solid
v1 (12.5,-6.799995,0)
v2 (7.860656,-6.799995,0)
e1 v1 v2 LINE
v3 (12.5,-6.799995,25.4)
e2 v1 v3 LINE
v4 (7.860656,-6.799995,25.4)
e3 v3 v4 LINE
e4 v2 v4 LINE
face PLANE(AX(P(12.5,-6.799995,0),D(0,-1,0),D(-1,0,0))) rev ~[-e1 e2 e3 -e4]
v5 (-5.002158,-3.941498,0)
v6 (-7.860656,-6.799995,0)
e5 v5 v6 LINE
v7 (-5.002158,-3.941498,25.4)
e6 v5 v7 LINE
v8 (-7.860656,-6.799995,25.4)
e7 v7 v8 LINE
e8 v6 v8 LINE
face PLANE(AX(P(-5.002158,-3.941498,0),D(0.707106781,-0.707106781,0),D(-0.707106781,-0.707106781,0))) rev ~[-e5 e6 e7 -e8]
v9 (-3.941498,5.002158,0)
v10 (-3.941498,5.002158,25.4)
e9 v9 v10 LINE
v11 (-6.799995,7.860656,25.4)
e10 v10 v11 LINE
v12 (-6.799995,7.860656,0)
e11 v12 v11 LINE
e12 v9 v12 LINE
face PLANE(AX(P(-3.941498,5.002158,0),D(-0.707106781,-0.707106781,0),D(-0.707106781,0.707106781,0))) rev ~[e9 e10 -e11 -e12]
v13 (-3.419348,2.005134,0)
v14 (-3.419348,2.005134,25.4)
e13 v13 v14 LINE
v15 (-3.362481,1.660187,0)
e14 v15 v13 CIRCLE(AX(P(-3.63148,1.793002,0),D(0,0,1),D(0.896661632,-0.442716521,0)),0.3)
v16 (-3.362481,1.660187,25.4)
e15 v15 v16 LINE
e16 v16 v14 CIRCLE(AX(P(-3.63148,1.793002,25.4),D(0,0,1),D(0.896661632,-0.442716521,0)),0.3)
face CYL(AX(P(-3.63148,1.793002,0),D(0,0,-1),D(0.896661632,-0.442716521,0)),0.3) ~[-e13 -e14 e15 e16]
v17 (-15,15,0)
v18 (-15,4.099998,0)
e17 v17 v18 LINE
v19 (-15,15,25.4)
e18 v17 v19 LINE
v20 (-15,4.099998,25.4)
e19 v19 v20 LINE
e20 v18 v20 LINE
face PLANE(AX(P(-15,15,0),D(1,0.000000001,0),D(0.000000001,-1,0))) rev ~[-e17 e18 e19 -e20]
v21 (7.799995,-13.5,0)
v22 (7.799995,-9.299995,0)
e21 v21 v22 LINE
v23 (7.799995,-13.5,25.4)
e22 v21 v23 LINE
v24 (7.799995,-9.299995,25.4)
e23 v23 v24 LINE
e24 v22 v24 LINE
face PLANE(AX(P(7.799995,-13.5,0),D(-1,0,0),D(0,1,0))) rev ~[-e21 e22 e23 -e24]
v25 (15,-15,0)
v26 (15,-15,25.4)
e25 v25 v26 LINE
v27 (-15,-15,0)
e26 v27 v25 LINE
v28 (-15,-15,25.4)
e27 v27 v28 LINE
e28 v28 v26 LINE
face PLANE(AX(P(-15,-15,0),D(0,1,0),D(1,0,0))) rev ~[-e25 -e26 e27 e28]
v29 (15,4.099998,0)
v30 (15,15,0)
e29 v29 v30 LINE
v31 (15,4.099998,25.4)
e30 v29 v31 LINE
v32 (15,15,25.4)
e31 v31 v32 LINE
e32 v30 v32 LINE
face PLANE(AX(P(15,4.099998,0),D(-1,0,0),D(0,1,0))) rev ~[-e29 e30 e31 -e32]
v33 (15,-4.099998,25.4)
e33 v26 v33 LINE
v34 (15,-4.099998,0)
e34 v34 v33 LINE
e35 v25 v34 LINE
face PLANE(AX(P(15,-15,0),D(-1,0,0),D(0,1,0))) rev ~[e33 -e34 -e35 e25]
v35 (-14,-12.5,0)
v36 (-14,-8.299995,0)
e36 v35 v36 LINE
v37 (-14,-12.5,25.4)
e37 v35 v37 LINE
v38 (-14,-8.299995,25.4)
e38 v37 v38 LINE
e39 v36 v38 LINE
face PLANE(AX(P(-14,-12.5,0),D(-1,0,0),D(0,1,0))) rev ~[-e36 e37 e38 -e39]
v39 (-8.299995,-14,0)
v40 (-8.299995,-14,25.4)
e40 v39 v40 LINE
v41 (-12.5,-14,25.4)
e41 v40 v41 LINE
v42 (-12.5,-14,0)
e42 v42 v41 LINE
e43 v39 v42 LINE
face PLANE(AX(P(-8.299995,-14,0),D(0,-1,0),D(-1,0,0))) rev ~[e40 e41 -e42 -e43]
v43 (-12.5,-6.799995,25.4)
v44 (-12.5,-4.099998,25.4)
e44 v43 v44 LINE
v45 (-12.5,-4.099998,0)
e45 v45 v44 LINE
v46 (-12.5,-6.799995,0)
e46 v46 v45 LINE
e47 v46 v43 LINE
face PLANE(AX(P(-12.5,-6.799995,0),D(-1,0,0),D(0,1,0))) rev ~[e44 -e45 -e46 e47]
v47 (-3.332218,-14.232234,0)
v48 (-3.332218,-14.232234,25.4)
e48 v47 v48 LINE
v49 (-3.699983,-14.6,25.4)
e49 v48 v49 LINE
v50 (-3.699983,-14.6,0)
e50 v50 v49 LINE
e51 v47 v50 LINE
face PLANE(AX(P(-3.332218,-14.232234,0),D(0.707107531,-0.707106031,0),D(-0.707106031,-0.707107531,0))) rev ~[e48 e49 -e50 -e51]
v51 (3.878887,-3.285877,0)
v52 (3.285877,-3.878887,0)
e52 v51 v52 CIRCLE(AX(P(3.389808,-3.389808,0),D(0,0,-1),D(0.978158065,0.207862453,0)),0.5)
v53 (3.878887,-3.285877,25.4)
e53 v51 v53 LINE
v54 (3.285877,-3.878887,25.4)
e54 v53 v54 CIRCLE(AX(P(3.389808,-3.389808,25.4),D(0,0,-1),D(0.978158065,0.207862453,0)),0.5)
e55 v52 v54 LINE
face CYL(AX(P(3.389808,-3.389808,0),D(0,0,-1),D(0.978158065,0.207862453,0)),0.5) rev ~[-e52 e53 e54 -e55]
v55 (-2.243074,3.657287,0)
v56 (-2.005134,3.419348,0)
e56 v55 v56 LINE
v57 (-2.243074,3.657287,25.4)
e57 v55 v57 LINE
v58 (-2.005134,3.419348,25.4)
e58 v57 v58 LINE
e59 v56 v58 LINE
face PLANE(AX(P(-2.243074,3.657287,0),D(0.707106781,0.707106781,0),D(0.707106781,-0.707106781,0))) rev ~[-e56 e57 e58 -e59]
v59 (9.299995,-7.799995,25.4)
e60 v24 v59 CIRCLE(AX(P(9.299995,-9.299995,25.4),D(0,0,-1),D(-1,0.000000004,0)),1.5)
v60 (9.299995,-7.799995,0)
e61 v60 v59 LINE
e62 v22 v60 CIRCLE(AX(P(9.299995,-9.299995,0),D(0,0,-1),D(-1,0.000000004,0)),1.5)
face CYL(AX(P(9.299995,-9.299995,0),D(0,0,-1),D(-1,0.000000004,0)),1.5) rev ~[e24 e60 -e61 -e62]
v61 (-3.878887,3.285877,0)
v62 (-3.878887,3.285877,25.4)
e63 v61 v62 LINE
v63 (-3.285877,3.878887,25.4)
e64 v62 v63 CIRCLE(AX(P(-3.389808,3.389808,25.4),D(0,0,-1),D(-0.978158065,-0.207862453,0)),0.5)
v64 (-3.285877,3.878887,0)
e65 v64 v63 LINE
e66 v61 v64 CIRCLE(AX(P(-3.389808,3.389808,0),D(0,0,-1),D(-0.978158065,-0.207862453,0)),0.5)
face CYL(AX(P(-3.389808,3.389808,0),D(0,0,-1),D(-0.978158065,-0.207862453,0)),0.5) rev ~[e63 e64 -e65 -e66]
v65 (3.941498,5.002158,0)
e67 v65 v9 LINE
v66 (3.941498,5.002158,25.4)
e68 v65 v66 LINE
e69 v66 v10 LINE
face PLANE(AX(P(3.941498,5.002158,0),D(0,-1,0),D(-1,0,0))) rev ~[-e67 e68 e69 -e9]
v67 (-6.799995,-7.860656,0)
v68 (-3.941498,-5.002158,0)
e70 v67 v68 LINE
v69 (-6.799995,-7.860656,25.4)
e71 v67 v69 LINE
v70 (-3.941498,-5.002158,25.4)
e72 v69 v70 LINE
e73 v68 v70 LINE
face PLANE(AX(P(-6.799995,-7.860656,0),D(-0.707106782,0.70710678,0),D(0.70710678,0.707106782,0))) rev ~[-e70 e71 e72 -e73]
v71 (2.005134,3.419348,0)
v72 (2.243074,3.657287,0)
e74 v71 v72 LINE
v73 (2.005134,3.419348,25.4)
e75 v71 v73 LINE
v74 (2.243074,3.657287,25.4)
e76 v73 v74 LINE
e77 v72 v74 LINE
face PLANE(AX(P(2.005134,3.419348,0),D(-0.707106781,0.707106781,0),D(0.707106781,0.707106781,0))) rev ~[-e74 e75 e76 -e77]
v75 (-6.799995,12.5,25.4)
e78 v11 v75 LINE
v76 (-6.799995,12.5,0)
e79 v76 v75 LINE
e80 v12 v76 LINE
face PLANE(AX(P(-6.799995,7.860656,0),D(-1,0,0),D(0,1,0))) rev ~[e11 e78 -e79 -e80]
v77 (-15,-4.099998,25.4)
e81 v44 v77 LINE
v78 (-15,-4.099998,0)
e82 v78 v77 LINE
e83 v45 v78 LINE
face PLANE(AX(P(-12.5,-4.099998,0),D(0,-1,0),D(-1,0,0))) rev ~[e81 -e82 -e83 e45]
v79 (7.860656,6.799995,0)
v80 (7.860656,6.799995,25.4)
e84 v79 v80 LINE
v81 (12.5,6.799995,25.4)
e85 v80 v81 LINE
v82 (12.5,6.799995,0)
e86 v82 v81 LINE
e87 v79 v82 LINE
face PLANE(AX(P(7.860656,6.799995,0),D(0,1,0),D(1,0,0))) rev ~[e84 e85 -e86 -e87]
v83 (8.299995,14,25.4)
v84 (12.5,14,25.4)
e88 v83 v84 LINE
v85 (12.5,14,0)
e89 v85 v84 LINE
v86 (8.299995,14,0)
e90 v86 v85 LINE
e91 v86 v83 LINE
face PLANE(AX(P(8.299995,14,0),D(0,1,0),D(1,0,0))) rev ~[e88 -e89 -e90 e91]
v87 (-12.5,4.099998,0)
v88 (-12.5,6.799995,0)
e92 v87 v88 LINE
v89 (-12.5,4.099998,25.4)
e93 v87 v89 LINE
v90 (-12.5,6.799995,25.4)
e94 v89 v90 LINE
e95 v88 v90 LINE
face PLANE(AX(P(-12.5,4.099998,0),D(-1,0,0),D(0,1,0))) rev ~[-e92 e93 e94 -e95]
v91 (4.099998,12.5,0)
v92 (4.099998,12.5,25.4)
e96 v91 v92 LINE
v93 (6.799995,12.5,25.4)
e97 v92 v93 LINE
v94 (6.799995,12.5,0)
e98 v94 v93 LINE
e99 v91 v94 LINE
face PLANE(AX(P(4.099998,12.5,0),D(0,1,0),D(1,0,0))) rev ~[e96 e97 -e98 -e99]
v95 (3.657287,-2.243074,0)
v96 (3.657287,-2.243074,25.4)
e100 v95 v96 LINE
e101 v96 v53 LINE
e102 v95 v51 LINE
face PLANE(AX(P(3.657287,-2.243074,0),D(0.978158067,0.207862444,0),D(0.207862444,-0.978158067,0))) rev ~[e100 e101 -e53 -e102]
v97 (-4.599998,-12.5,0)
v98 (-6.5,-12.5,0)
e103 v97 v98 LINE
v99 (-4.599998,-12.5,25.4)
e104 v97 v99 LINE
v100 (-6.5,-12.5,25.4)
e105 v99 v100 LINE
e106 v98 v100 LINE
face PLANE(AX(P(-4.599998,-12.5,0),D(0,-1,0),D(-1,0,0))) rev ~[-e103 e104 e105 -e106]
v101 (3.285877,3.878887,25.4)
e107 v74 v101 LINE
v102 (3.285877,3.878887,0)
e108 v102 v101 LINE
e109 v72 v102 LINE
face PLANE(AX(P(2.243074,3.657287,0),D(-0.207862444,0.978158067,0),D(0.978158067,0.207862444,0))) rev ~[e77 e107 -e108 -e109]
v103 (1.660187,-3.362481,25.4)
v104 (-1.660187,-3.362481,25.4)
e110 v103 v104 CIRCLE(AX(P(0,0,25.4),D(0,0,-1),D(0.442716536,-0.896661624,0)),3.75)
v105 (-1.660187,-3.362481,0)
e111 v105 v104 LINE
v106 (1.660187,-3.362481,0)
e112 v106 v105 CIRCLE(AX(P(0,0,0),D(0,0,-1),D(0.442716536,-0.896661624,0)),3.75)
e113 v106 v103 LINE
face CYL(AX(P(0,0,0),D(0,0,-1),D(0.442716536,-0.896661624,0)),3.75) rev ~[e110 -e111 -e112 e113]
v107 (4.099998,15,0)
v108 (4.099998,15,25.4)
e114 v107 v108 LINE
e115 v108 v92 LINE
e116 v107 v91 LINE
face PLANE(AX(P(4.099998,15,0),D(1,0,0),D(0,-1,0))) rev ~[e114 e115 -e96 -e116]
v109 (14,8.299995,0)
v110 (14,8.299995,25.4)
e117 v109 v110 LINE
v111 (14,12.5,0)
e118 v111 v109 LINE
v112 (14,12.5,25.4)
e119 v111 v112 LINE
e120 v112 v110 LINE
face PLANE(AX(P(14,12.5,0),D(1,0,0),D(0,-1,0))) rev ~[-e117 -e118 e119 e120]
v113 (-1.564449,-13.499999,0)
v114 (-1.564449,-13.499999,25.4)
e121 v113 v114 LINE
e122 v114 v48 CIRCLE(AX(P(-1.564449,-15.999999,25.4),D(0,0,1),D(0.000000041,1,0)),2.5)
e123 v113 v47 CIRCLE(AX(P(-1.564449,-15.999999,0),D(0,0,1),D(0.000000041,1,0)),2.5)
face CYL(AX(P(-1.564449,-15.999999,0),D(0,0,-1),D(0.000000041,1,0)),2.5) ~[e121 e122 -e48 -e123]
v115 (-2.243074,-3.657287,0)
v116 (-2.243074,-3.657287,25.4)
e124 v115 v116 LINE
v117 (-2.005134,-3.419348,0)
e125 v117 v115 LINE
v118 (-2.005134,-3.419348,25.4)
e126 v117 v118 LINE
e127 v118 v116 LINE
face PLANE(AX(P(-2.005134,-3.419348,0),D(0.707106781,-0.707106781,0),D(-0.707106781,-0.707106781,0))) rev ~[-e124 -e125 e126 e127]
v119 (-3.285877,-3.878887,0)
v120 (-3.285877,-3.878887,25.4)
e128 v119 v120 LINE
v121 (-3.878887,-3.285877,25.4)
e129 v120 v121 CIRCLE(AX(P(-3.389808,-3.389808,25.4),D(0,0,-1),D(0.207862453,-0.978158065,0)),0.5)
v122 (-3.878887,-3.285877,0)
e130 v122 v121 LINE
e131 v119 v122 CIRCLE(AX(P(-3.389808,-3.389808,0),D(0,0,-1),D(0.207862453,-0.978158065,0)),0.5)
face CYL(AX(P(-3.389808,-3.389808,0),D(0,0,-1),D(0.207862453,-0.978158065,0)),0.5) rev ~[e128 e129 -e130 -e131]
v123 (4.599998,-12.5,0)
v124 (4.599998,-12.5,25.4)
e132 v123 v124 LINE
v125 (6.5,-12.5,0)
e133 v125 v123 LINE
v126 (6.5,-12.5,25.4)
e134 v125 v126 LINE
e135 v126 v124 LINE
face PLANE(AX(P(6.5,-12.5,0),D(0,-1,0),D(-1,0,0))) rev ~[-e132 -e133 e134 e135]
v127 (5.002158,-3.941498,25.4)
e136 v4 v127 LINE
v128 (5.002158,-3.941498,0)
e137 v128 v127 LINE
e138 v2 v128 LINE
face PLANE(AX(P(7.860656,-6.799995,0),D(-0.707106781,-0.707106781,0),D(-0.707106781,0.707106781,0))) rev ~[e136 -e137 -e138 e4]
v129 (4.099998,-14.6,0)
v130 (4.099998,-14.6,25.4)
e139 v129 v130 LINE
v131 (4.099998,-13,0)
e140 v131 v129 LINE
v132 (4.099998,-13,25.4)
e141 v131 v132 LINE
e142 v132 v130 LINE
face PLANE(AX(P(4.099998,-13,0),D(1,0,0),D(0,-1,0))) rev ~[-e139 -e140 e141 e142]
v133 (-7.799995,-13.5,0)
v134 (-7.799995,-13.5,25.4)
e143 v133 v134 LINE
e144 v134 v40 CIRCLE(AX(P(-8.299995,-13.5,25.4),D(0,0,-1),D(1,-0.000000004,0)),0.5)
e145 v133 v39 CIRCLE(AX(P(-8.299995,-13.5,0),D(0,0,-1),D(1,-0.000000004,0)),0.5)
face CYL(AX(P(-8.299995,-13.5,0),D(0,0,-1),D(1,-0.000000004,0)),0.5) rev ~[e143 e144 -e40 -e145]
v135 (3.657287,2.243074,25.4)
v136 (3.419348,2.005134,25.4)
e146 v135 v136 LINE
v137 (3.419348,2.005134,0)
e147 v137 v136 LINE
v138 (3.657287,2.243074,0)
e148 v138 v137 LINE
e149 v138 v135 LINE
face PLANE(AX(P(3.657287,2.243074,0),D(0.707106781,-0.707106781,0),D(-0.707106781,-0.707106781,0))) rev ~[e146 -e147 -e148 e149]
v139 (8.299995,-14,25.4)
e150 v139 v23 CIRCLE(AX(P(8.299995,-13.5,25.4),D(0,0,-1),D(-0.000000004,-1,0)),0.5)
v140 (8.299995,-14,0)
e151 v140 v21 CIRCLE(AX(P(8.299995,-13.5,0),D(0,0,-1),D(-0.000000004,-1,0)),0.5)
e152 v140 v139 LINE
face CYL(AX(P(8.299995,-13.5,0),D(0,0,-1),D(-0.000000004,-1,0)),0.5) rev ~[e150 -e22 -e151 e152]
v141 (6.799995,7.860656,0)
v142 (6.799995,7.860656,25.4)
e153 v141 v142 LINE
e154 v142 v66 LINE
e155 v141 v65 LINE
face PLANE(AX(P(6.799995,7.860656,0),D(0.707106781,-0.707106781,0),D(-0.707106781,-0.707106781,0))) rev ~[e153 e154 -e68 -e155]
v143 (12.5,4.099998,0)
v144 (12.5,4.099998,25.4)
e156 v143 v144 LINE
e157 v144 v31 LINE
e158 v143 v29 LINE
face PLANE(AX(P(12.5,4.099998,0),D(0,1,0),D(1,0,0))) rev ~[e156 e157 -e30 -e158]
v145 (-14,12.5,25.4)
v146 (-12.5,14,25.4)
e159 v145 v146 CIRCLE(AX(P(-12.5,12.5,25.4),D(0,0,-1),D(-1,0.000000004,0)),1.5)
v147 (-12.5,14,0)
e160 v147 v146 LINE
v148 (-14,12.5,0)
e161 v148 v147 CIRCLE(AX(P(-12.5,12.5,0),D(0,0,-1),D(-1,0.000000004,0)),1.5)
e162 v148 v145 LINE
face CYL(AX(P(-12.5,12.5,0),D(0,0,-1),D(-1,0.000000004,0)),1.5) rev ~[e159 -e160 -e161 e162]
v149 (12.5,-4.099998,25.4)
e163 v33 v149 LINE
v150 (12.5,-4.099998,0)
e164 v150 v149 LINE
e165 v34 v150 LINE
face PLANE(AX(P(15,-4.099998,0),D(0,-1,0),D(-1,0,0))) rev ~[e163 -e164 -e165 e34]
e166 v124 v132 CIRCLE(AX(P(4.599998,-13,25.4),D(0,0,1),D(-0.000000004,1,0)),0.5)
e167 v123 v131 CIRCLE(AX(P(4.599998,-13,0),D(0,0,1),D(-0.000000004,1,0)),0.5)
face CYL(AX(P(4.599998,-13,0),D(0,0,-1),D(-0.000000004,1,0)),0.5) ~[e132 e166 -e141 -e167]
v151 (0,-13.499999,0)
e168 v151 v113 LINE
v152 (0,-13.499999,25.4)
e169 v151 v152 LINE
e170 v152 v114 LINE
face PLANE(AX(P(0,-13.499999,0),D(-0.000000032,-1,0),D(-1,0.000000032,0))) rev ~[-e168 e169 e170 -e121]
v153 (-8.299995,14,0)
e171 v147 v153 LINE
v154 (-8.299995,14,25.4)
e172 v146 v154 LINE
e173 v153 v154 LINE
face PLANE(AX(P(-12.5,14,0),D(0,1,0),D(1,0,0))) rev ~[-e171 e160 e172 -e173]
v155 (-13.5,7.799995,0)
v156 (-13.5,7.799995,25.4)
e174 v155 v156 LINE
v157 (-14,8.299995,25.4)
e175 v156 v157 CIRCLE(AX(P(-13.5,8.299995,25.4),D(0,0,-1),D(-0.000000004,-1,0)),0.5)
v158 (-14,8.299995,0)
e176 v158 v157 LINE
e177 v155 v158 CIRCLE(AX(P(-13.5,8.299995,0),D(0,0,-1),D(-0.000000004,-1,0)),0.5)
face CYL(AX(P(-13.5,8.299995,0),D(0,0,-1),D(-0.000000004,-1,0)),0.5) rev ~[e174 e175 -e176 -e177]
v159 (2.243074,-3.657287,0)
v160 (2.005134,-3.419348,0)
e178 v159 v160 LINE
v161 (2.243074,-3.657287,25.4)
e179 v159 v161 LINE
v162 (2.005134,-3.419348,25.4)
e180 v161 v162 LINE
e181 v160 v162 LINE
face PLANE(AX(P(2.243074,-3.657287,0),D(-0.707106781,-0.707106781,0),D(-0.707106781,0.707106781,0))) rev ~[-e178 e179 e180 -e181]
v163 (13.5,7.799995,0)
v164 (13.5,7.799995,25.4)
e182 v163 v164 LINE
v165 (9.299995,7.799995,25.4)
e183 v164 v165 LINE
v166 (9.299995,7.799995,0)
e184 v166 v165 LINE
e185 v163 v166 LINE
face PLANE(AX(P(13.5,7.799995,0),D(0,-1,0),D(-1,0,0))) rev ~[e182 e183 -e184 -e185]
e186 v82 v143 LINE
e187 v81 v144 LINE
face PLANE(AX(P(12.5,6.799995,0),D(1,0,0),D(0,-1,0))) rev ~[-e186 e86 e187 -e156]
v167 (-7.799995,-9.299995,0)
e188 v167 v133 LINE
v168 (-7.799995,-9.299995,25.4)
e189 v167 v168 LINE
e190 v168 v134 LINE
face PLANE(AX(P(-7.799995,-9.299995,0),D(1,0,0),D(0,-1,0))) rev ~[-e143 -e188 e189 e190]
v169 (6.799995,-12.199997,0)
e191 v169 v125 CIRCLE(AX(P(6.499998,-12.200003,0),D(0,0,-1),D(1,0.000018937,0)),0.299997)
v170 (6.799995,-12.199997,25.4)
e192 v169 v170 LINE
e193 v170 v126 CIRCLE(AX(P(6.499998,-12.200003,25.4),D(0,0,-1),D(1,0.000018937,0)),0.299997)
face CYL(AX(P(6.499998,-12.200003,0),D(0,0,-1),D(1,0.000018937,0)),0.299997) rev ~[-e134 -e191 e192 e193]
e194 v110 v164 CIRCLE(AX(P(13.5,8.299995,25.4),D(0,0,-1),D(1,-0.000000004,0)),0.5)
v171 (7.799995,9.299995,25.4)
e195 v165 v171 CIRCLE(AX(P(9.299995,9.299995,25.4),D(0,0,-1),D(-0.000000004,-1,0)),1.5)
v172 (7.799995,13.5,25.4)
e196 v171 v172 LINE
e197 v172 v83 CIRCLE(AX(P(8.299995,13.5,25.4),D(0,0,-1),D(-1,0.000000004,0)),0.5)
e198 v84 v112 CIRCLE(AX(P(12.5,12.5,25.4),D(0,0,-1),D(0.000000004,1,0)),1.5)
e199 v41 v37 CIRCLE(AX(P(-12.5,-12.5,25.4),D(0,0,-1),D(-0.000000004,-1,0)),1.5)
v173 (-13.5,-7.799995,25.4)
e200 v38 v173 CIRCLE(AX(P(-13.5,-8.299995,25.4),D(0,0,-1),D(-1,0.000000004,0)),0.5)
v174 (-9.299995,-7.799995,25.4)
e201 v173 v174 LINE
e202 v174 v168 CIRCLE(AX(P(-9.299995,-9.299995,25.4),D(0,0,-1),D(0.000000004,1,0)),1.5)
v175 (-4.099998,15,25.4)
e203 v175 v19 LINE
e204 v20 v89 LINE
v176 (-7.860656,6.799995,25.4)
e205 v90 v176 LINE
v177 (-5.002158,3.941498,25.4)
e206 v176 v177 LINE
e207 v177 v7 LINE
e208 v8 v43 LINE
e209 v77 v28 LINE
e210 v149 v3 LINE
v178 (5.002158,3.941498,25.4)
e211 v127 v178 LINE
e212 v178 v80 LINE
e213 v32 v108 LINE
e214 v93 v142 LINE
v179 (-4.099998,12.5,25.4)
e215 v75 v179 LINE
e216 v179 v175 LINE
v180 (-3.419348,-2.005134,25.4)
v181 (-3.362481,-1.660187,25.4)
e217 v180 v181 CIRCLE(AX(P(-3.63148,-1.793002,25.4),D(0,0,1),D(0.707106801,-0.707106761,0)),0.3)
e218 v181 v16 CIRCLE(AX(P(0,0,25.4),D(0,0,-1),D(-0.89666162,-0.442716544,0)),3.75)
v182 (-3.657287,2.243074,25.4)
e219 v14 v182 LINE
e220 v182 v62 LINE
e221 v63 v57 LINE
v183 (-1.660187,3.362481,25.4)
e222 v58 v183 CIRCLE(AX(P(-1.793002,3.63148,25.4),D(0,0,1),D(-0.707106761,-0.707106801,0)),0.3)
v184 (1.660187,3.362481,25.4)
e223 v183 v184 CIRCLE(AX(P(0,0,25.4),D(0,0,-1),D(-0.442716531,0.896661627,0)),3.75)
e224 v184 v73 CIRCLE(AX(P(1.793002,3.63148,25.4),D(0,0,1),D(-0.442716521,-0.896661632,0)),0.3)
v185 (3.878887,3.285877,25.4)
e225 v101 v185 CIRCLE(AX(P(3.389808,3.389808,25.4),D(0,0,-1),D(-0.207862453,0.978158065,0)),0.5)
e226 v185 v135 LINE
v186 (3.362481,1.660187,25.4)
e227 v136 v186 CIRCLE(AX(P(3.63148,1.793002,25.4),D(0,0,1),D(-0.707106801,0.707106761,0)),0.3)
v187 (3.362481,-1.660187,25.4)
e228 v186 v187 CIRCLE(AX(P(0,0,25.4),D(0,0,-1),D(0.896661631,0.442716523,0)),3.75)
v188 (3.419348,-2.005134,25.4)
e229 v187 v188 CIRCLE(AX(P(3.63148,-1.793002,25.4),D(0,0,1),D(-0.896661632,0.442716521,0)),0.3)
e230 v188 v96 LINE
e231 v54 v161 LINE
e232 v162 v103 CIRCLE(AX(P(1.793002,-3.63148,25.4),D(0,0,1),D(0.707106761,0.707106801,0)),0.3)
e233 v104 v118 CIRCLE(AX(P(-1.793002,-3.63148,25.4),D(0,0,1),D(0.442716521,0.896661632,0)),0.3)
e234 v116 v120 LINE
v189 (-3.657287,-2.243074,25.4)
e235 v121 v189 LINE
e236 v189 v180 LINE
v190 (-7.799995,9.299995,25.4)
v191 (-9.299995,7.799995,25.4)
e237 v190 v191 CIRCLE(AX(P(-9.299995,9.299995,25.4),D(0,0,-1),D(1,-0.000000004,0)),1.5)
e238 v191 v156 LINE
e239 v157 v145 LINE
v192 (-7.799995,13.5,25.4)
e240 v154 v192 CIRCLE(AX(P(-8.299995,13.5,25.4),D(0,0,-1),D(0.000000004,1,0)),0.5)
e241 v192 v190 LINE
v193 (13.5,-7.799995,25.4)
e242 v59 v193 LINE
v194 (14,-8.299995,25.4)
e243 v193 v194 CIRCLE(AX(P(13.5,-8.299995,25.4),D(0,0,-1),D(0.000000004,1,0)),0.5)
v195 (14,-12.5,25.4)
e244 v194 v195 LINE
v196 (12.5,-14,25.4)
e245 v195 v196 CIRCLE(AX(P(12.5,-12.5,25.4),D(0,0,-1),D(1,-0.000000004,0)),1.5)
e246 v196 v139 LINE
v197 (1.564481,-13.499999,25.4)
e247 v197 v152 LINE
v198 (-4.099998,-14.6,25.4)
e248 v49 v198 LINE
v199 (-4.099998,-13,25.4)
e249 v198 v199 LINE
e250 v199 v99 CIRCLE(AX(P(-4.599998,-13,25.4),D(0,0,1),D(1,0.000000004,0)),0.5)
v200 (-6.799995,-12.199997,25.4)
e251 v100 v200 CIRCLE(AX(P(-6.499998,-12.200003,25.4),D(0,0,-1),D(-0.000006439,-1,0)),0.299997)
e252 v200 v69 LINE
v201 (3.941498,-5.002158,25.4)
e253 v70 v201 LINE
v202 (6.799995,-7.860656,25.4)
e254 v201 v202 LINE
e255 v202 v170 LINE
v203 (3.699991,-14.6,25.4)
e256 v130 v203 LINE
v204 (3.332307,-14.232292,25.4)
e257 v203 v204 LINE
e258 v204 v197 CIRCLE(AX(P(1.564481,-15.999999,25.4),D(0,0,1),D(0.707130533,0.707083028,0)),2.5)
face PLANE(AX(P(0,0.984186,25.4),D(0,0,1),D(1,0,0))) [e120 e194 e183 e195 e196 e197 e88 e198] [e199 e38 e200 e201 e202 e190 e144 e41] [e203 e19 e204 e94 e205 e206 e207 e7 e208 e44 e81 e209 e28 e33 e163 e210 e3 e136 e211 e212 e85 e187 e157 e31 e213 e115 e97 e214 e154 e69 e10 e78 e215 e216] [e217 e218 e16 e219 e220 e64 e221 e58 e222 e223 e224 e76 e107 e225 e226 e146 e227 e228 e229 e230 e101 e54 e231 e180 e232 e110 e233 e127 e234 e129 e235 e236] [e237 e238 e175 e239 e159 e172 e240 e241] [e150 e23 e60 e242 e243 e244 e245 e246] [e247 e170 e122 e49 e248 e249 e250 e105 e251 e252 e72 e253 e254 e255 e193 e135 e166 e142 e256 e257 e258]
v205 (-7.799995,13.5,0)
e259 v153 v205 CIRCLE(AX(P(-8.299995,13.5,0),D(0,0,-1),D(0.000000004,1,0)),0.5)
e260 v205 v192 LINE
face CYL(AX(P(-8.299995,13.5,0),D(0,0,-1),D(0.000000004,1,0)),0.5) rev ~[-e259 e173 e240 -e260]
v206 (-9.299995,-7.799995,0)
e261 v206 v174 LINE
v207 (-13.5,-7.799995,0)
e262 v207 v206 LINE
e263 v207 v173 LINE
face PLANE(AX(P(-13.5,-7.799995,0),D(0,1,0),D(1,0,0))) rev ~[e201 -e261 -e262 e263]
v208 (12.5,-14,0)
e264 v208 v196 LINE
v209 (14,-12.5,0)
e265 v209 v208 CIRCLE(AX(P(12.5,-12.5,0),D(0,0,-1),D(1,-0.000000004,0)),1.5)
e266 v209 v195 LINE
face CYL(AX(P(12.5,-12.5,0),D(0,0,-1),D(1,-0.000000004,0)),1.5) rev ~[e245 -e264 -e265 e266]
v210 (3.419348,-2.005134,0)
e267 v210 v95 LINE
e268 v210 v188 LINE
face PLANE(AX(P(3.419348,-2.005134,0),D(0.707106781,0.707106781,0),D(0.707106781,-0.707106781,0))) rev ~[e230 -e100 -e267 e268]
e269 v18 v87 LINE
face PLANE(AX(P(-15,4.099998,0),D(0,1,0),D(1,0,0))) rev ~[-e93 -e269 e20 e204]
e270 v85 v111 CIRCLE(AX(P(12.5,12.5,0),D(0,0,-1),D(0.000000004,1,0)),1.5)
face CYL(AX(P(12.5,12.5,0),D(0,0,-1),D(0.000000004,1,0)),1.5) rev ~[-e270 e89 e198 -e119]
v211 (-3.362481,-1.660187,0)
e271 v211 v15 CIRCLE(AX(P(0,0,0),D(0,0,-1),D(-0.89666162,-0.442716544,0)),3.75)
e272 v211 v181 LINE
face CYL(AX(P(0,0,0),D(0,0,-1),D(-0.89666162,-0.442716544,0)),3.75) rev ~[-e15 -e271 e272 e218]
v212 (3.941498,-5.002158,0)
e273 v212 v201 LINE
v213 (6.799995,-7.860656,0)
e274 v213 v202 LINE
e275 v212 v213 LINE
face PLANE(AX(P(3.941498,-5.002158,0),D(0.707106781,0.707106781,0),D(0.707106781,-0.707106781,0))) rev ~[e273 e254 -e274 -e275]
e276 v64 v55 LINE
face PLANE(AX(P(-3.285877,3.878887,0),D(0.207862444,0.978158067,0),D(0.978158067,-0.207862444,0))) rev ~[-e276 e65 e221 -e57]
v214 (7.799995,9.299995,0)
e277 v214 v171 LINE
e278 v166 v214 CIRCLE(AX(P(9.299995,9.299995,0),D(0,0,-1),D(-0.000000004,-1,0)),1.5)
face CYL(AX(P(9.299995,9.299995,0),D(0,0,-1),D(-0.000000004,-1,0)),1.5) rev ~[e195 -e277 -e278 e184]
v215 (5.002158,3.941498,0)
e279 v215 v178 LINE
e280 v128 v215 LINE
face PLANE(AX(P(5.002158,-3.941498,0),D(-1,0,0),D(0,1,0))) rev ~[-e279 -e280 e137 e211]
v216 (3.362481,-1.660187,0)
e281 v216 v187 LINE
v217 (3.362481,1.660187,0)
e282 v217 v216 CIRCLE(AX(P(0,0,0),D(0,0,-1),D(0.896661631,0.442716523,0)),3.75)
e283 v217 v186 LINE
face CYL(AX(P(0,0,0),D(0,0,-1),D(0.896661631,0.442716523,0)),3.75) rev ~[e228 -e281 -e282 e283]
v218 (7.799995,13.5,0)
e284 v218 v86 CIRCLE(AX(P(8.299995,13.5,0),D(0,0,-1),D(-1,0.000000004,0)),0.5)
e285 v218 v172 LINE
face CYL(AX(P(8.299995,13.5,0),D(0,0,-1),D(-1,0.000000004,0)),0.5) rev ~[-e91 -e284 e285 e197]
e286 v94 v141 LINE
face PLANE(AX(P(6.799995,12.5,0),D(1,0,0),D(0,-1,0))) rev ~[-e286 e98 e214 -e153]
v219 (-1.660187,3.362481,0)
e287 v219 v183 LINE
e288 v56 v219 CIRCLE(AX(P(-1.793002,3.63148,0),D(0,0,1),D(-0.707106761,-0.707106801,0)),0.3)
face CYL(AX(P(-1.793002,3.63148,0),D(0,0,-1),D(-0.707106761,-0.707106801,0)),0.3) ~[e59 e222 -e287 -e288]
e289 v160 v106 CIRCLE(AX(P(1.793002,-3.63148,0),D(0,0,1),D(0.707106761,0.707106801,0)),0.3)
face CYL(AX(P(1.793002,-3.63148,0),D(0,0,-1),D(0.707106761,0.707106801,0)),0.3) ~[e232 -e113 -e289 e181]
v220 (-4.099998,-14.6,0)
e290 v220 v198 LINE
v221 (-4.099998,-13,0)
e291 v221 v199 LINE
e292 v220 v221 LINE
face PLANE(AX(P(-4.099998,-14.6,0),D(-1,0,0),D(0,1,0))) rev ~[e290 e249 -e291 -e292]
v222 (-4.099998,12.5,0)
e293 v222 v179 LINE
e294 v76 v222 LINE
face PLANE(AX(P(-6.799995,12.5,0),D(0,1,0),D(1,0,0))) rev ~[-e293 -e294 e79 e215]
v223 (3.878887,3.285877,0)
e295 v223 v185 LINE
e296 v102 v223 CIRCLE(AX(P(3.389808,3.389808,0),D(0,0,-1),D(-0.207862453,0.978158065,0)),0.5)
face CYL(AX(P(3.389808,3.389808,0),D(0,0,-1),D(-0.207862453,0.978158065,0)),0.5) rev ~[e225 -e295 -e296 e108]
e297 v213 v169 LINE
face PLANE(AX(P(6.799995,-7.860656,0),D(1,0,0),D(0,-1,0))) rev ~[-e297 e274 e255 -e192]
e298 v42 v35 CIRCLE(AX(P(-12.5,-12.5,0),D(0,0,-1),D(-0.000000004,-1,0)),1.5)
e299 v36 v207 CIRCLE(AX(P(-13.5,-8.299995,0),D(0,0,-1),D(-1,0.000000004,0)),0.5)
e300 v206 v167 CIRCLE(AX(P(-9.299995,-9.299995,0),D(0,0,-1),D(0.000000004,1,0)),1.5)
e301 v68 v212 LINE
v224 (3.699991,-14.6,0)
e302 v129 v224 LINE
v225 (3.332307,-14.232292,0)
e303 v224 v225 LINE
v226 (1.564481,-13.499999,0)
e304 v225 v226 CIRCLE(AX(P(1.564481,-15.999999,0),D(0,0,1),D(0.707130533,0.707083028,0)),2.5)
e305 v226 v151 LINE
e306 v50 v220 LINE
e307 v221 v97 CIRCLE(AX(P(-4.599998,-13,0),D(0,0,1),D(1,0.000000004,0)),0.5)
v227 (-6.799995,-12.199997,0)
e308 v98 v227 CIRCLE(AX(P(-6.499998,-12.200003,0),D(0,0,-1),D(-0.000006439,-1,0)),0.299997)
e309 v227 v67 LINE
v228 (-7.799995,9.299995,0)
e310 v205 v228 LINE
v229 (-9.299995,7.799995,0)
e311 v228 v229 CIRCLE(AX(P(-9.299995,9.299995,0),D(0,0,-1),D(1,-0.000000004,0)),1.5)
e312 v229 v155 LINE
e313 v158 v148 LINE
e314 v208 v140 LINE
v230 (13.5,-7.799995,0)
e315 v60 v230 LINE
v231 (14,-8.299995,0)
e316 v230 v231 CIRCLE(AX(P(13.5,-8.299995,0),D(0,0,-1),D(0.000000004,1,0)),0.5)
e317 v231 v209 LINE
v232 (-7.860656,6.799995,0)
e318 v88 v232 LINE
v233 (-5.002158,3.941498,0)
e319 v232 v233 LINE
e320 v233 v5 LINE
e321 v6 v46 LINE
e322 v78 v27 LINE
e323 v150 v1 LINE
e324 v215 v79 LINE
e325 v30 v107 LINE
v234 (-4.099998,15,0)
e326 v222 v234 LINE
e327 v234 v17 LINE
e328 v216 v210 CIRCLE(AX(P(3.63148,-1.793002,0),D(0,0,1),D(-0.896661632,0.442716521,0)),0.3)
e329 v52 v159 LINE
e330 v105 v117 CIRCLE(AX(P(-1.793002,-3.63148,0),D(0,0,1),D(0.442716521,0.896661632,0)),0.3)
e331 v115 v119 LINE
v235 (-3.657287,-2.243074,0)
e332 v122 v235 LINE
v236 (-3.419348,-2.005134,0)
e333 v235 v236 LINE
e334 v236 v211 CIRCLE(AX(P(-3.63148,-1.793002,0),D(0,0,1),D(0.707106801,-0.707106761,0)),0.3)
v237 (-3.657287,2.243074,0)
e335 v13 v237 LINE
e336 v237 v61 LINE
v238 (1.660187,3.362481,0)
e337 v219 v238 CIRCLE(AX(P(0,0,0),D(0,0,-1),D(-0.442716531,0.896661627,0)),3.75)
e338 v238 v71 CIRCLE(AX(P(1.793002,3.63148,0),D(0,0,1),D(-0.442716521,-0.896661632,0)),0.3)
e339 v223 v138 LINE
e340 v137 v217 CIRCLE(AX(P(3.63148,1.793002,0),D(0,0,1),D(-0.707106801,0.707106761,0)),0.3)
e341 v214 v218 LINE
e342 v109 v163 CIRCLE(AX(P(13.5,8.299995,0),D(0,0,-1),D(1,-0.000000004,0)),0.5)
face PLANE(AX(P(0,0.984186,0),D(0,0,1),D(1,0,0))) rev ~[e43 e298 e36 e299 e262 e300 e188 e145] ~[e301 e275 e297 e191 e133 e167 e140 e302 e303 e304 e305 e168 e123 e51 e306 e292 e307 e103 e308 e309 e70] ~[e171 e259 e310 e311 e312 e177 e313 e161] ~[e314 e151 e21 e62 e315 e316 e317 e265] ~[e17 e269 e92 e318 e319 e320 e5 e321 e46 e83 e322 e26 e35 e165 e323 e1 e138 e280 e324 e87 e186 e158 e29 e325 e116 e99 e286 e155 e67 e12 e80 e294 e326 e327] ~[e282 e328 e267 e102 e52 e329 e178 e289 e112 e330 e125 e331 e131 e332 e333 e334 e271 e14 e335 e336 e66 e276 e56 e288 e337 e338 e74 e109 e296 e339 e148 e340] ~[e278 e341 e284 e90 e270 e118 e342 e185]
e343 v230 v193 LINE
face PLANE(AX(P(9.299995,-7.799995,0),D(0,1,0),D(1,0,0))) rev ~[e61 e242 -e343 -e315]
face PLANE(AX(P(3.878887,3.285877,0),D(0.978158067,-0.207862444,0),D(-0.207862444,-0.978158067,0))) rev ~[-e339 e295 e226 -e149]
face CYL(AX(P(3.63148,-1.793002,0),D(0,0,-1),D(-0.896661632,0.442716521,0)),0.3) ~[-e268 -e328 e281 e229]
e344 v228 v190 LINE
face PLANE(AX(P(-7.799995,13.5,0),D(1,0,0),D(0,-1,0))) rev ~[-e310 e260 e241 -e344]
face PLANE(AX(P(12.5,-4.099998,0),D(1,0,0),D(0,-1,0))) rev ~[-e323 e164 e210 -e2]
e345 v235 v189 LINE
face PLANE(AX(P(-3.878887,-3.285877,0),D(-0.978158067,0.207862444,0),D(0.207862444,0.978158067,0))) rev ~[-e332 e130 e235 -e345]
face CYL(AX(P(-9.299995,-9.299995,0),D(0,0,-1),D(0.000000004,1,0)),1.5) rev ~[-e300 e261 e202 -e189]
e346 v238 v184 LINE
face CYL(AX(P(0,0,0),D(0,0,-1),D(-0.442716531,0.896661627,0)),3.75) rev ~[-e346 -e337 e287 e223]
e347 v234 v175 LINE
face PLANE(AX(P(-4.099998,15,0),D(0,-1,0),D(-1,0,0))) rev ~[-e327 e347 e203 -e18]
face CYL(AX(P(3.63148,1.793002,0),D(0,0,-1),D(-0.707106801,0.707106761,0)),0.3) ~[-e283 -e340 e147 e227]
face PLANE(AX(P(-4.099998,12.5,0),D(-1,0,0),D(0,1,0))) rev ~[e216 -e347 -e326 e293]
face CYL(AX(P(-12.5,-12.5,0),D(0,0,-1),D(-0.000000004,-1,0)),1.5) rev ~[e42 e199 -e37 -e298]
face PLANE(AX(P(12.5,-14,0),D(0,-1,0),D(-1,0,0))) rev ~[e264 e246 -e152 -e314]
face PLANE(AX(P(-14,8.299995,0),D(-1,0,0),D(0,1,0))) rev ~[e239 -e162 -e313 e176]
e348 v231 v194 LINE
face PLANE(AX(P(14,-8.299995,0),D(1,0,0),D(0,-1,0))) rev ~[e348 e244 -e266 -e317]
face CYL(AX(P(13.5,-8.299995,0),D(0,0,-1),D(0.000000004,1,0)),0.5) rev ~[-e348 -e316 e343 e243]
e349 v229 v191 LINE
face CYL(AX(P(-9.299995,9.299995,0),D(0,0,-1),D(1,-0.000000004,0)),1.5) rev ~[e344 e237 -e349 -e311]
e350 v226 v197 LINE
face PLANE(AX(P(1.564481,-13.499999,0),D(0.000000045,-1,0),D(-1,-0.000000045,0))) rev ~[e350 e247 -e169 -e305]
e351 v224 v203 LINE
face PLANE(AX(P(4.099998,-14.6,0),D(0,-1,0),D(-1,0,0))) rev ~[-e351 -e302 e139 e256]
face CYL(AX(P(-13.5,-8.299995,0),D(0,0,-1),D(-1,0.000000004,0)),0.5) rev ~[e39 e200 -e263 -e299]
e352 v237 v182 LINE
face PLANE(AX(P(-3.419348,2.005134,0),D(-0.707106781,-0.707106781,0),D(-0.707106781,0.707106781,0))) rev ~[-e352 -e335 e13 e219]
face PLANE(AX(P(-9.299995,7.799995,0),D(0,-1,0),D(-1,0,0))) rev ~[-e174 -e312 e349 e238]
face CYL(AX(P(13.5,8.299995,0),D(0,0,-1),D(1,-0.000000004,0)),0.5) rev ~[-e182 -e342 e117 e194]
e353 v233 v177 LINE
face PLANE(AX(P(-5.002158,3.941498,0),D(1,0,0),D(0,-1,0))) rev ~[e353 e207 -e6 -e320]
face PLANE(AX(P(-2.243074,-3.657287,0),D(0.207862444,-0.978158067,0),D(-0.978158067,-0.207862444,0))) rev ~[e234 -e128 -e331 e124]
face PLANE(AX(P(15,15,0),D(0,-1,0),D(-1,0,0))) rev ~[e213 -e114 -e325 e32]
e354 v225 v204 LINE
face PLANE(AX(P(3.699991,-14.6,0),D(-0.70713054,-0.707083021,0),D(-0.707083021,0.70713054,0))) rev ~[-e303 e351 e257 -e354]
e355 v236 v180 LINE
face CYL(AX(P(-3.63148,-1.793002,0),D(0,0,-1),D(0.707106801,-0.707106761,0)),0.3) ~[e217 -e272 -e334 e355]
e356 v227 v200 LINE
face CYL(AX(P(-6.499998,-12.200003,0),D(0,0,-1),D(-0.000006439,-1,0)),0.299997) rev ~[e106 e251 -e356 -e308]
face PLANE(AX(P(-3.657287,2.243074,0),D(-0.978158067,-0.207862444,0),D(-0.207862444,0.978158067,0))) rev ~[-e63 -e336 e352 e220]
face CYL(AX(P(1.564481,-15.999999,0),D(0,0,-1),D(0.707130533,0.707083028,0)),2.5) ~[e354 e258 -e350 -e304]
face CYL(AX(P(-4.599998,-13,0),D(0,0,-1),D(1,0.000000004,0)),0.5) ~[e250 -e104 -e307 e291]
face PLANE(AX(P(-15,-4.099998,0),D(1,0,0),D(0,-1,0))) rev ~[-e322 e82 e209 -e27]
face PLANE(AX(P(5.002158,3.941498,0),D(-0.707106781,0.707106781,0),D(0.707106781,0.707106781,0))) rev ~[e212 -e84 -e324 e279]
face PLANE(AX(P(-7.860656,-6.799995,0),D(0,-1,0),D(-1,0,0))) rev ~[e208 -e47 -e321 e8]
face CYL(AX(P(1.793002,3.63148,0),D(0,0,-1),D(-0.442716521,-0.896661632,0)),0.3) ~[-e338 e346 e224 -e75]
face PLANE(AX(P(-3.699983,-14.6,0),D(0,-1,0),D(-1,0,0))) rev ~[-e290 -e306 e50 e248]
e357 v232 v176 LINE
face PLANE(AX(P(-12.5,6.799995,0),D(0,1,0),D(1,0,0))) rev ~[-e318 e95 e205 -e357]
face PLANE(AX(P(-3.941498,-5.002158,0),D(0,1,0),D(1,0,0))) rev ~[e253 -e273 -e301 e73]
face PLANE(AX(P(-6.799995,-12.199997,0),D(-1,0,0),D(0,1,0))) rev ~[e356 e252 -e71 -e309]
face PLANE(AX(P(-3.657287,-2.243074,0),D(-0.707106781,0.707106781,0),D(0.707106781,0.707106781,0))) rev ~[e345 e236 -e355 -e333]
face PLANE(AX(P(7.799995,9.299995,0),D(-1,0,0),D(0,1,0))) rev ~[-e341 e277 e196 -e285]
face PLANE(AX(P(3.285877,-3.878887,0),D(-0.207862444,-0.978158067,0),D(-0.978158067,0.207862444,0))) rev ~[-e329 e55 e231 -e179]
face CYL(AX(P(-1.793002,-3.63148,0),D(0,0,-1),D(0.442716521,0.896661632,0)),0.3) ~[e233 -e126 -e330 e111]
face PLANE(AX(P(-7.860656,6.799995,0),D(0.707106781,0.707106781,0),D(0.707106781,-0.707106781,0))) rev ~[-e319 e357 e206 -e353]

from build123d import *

# Parameters (mm, degrees)
EXTRUSION3_DEPTH = 25.4


with BuildPart() as part:
    # Sketch1 → Extrusion3 (new body)
    with BuildSketch(Plane.XY):
        Polygon((-15.000000011, 14.999999975), (-14.999999998, 4.099998455), (-12.499999998, 4.099998455), (-12.499999998, 6.799995405), (-7.860655598, 6.799995405), (-5.002158168, 3.941497975), (-5.002158168, -3.941498015), (-7.860655598, -6.799995445), (-12.499999998, -6.799995445), (-12.499999998, -4.099998495), (-14.999999998, -4.099998495), (-14.999999998, -15.000000015), (14.999999982, -15.000000015), (14.999999982, -4.099998495), (12.499999982, -4.099998495), (12.499999982, -6.799995445), (7.860655582, -6.799995445), (5.002158152, -3.941498015), (5.002158152, 3.941497975), (7.860655582, 6.799995405), (12.499999982, 6.799995405), (12.499999982, 4.099998455), (14.999999982, 4.099998455), (14.999999982, 14.999999975), (4.099998462, 14.999999975), (4.099998462, 12.499999975), (6.799995412, 12.499999975), (6.799995412, 7.860655575), (3.941497982, 5.002158145), (-3.941498008, 5.002158145), (-6.799995438, 7.860655575), (-6.799995438, 12.499999975), (-4.099998488, 12.499999975), (-4.099998488, 14.999999975), align=None)
        with BuildLine():
            Line((13.499999982, 7.799995395), (9.299995412, 7.799995395))
            ThreePointArc((9.299995412, 7.799995395), (8.239335242, 8.239335225), (7.799995412, 9.299995395))
            Line((7.799995412, 9.299995395), (7.799995412, 13.499999965))
            ThreePointArc((7.799995412, 13.499999965), (7.946442022, 13.853553355), (8.299995412, 13.999999965))
            Line((8.299995412, 13.999999965), (12.499999982, 13.999999965))
            ThreePointArc((12.499999982, 13.999999965), (13.560660152, 13.560660135), (13.999999982, 12.499999965))
            Line((13.999999982, 12.499999965), (13.999999982, 8.299995395))
            ThreePointArc((13.999999982, 8.299995395), (13.853553372, 7.946442005), (13.499999982, 7.799995395))
        make_face(mode=Mode.SUBTRACT)
        with BuildLine():
            Line((-7.799995428, 13.499999965), (-7.799995428, 9.299995395))
            ThreePointArc((-7.799995428, 9.299995395), (-8.239335258, 8.239335225), (-9.299995428, 7.799995395))
            Line((-9.299995428, 7.799995395), (-13.499999998, 7.799995395))
            ThreePointArc((-13.499999998, 7.799995395), (-13.853553388, 7.946442005), (-13.999999998, 8.299995395))
            Line((-13.999999998, 8.299995395), (-13.999999998, 12.499999965))
            ThreePointArc((-13.999999998, 12.499999965), (-13.560660168, 13.560660135), (-12.499999998, 13.999999965))
            Line((-12.499999998, 13.999999965), (-8.299995428, 13.999999965))
            ThreePointArc((-8.299995428, 13.999999965), (-7.946442038, 13.853553355), (-7.799995428, 13.499999965))
        make_face(mode=Mode.SUBTRACT)
        with BuildLine():
            Line((7.799995412, -13.500000015), (7.799995412, -9.299995445))
            ThreePointArc((7.799995412, -9.299995445), (8.239335242, -8.239335275), (9.299995412, -7.799995445))
            Line((9.299995412, -7.799995445), (13.499999982, -7.799995445))
            ThreePointArc((13.499999982, -7.799995445), (13.853553372, -7.946442055), (13.999999982, -8.299995445))
            Line((13.999999982, -8.299995445), (13.999999982, -12.500000015))
            ThreePointArc((13.999999982, -12.500000015), (13.560660152, -13.560660185), (12.499999982, -14.000000015))
            Line((12.499999982, -14.000000015), (8.299995412, -14.000000015))
            ThreePointArc((8.299995412, -14.000000015), (7.946442022, -13.853553405), (7.799995412, -13.500000015))
        make_face(mode=Mode.SUBTRACT)
        with BuildLine():
            Line((-13.499999998, -7.799995445), (-9.299995428, -7.799995445))
            ThreePointArc((-9.299995428, -7.799995445), (-8.239335258, -8.239335275), (-7.799995428, -9.299995445))
            Line((-7.799995428, -9.299995445), (-7.799995428, -13.500000015))
            ThreePointArc((-7.799995428, -13.500000015), (-7.946442038, -13.853553405), (-8.299995428, -14.000000015))
            Line((-8.299995428, -14.000000015), (-12.499999998, -14.000000015))
            ThreePointArc((-12.499999998, -14.000000015), (-13.560660168, -13.560660185), (-13.999999998, -12.500000015))
            Line((-13.999999998, -12.500000015), (-13.999999998, -8.299995445))
            ThreePointArc((-13.999999998, -8.299995445), (-13.853553388, -7.946442055), (-13.499999998, -7.799995445))
        make_face(mode=Mode.SUBTRACT)
        with BuildLine():
            Line((-3.285876608, 3.878886835), (-2.243073548, 3.657287075))
            Line((-2.243073548, 3.657287075), (-2.005134008, 3.419347535))
            ThreePointArc((-2.005134008, 3.419347535), (-1.841800007, 3.335474925), (-1.660187018, 3.362481085))
            ThreePointArc((-1.660187018, 3.362481085), (-2.3e-08, 3.749999985), (1.660186972, 3.362481085))
            ThreePointArc((1.660186972, 3.362481085), (1.841799961, 3.335474925), (2.005133962, 3.419347535))
            Line((2.005133962, 3.419347535), (2.243073502, 3.657287075))
            Line((2.243073502, 3.657287075), (3.285876562, 3.878886835))
            ThreePointArc((3.285876562, 3.878886835), (3.743361172, 3.743361195), (3.878886812, 3.285876585))
            Line((3.878886812, 3.285876585), (3.657287052, 2.243073525))
            Line((3.657287052, 2.243073525), (3.419347512, 2.005133985))
            ThreePointArc((3.419347512, 2.005133985), (3.335474902, 1.841799984), (3.362481062, 1.660186995))
            ThreePointArc((3.362481062, 1.660186995), (3.749999954, -2e-09), (3.362481062, -1.660186995))
            ThreePointArc((3.362481062, -1.660186995), (3.335474902, -1.841799984), (3.419347512, -2.005133985))
            Line((3.419347512, -2.005133985), (3.657287052, -2.243073525))
            Line((3.657287052, -2.243073525), (3.878886812, -3.285876585))
            ThreePointArc((3.878886812, -3.285876585), (3.743361172, -3.743361195), (3.285876562, -3.878886835))
            Line((3.285876562, -3.878886835), (2.243073502, -3.657287075))
            Line((2.243073502, -3.657287075), (2.005133962, -3.419347535))
            ThreePointArc((2.005133962, -3.419347535), (1.841799961, -3.335474925), (1.660186972, -3.362481085))
            ThreePointArc((1.660186972, -3.362481085), (-2.3e-08, -3.74999999), (-1.660187018, -3.362481085))
            ThreePointArc((-1.660187018, -3.362481085), (-1.841800007, -3.335474925), (-2.005134008, -3.419347535))
            Line((-2.005134008, -3.419347535), (-2.243073548, -3.657287075))
            Line((-2.243073548, -3.657287075), (-3.285876608, -3.878886835))
            ThreePointArc((-3.285876608, -3.878886835), (-3.743361218, -3.743361195), (-3.878886858, -3.285876585))
            Line((-3.878886858, -3.285876585), (-3.657287098, -2.243073525))
            Line((-3.657287098, -2.243073525), (-3.419347558, -2.005133985))
            ThreePointArc((-3.419347558, -2.005133985), (-3.335474948, -1.841799984), (-3.362481108, -1.660186995))
            ThreePointArc((-3.362481108, -1.660186995), (-3.750000021, -2e-09), (-3.362481108, 1.660186995))
            ThreePointArc((-3.362481108, 1.660186995), (-3.335474948, 1.841799984), (-3.419347558, 2.005133985))
            Line((-3.419347558, 2.005133985), (-3.657287098, 2.243073525))
            Line((-3.657287098, 2.243073525), (-3.878886858, 3.285876585))
            ThreePointArc((-3.878886858, 3.285876585), (-3.743361218, 3.743361195), (-3.285876608, 3.878886835))
        make_face(mode=Mode.SUBTRACT)
        with BuildLine():
            Line((-6.799995418, -7.860655625), (-3.941497998, -5.002158195))
            Line((-3.941497998, -5.002158195), (3.941497992, -5.002158195))
            Line((3.941497992, -5.002158195), (6.799995422, -7.860655625))
            Line((6.799995422, -7.860655625), (6.799995422, -12.199996975))
            ThreePointArc((6.799995422, -12.199996975), (6.712130925, -12.412130132), (6.500000002, -12.500000025))
            Line((6.500000002, -12.500000025), (4.599998472, -12.500000025))
            ThreePointArc((4.599998472, -12.500000025), (4.246445082, -12.646446635), (4.099998472, -13.000000025))
            Line((4.099998472, -13.000000025), (4.099998472, -14.600000025))
            Line((4.099998472, -14.600000025), (3.699990832, -14.600000025))
            Line((3.699990832, -14.600000025), (3.332307072, -14.232291555))
            ThreePointArc((3.332307072, -14.232291555), (2.521228054, -13.690316336), (1.564480612, -13.499999115))
            Line((1.564480612, -13.499999115), (-5.8e-08, -13.499999185))
            Line((-5.8e-08, -13.499999185), (-1.564449118, -13.499999135))
            ThreePointArc((-1.564449118, -13.499999135), (-2.521158976, -13.690300794), (-3.332218038, -14.232234065))
            Line((-3.332218038, -14.232234065), (-3.699983218, -14.600000025))
            Line((-3.699983218, -14.600000025), (-4.099998468, -14.600000025))
            Line((-4.099998468, -14.600000025), (-4.099998468, -13.000000025))
            ThreePointArc((-4.099998468, -13.000000025), (-4.246445078, -12.646446635), (-4.599998468, -12.500000025))
            Line((-4.599998468, -12.500000025), (-6.499999998, -12.500000025))
            ThreePointArc((-6.499999998, -12.500000025), (-6.712130926, -12.412130137), (-6.799995418, -12.199996975))
            Line((-6.799995418, -12.199996975), (-6.799995418, -7.860655625))
        make_face(mode=Mode.SUBTRACT)
    extrude(amount=EXTRUSION3_DEPTH)


solid = part.part
